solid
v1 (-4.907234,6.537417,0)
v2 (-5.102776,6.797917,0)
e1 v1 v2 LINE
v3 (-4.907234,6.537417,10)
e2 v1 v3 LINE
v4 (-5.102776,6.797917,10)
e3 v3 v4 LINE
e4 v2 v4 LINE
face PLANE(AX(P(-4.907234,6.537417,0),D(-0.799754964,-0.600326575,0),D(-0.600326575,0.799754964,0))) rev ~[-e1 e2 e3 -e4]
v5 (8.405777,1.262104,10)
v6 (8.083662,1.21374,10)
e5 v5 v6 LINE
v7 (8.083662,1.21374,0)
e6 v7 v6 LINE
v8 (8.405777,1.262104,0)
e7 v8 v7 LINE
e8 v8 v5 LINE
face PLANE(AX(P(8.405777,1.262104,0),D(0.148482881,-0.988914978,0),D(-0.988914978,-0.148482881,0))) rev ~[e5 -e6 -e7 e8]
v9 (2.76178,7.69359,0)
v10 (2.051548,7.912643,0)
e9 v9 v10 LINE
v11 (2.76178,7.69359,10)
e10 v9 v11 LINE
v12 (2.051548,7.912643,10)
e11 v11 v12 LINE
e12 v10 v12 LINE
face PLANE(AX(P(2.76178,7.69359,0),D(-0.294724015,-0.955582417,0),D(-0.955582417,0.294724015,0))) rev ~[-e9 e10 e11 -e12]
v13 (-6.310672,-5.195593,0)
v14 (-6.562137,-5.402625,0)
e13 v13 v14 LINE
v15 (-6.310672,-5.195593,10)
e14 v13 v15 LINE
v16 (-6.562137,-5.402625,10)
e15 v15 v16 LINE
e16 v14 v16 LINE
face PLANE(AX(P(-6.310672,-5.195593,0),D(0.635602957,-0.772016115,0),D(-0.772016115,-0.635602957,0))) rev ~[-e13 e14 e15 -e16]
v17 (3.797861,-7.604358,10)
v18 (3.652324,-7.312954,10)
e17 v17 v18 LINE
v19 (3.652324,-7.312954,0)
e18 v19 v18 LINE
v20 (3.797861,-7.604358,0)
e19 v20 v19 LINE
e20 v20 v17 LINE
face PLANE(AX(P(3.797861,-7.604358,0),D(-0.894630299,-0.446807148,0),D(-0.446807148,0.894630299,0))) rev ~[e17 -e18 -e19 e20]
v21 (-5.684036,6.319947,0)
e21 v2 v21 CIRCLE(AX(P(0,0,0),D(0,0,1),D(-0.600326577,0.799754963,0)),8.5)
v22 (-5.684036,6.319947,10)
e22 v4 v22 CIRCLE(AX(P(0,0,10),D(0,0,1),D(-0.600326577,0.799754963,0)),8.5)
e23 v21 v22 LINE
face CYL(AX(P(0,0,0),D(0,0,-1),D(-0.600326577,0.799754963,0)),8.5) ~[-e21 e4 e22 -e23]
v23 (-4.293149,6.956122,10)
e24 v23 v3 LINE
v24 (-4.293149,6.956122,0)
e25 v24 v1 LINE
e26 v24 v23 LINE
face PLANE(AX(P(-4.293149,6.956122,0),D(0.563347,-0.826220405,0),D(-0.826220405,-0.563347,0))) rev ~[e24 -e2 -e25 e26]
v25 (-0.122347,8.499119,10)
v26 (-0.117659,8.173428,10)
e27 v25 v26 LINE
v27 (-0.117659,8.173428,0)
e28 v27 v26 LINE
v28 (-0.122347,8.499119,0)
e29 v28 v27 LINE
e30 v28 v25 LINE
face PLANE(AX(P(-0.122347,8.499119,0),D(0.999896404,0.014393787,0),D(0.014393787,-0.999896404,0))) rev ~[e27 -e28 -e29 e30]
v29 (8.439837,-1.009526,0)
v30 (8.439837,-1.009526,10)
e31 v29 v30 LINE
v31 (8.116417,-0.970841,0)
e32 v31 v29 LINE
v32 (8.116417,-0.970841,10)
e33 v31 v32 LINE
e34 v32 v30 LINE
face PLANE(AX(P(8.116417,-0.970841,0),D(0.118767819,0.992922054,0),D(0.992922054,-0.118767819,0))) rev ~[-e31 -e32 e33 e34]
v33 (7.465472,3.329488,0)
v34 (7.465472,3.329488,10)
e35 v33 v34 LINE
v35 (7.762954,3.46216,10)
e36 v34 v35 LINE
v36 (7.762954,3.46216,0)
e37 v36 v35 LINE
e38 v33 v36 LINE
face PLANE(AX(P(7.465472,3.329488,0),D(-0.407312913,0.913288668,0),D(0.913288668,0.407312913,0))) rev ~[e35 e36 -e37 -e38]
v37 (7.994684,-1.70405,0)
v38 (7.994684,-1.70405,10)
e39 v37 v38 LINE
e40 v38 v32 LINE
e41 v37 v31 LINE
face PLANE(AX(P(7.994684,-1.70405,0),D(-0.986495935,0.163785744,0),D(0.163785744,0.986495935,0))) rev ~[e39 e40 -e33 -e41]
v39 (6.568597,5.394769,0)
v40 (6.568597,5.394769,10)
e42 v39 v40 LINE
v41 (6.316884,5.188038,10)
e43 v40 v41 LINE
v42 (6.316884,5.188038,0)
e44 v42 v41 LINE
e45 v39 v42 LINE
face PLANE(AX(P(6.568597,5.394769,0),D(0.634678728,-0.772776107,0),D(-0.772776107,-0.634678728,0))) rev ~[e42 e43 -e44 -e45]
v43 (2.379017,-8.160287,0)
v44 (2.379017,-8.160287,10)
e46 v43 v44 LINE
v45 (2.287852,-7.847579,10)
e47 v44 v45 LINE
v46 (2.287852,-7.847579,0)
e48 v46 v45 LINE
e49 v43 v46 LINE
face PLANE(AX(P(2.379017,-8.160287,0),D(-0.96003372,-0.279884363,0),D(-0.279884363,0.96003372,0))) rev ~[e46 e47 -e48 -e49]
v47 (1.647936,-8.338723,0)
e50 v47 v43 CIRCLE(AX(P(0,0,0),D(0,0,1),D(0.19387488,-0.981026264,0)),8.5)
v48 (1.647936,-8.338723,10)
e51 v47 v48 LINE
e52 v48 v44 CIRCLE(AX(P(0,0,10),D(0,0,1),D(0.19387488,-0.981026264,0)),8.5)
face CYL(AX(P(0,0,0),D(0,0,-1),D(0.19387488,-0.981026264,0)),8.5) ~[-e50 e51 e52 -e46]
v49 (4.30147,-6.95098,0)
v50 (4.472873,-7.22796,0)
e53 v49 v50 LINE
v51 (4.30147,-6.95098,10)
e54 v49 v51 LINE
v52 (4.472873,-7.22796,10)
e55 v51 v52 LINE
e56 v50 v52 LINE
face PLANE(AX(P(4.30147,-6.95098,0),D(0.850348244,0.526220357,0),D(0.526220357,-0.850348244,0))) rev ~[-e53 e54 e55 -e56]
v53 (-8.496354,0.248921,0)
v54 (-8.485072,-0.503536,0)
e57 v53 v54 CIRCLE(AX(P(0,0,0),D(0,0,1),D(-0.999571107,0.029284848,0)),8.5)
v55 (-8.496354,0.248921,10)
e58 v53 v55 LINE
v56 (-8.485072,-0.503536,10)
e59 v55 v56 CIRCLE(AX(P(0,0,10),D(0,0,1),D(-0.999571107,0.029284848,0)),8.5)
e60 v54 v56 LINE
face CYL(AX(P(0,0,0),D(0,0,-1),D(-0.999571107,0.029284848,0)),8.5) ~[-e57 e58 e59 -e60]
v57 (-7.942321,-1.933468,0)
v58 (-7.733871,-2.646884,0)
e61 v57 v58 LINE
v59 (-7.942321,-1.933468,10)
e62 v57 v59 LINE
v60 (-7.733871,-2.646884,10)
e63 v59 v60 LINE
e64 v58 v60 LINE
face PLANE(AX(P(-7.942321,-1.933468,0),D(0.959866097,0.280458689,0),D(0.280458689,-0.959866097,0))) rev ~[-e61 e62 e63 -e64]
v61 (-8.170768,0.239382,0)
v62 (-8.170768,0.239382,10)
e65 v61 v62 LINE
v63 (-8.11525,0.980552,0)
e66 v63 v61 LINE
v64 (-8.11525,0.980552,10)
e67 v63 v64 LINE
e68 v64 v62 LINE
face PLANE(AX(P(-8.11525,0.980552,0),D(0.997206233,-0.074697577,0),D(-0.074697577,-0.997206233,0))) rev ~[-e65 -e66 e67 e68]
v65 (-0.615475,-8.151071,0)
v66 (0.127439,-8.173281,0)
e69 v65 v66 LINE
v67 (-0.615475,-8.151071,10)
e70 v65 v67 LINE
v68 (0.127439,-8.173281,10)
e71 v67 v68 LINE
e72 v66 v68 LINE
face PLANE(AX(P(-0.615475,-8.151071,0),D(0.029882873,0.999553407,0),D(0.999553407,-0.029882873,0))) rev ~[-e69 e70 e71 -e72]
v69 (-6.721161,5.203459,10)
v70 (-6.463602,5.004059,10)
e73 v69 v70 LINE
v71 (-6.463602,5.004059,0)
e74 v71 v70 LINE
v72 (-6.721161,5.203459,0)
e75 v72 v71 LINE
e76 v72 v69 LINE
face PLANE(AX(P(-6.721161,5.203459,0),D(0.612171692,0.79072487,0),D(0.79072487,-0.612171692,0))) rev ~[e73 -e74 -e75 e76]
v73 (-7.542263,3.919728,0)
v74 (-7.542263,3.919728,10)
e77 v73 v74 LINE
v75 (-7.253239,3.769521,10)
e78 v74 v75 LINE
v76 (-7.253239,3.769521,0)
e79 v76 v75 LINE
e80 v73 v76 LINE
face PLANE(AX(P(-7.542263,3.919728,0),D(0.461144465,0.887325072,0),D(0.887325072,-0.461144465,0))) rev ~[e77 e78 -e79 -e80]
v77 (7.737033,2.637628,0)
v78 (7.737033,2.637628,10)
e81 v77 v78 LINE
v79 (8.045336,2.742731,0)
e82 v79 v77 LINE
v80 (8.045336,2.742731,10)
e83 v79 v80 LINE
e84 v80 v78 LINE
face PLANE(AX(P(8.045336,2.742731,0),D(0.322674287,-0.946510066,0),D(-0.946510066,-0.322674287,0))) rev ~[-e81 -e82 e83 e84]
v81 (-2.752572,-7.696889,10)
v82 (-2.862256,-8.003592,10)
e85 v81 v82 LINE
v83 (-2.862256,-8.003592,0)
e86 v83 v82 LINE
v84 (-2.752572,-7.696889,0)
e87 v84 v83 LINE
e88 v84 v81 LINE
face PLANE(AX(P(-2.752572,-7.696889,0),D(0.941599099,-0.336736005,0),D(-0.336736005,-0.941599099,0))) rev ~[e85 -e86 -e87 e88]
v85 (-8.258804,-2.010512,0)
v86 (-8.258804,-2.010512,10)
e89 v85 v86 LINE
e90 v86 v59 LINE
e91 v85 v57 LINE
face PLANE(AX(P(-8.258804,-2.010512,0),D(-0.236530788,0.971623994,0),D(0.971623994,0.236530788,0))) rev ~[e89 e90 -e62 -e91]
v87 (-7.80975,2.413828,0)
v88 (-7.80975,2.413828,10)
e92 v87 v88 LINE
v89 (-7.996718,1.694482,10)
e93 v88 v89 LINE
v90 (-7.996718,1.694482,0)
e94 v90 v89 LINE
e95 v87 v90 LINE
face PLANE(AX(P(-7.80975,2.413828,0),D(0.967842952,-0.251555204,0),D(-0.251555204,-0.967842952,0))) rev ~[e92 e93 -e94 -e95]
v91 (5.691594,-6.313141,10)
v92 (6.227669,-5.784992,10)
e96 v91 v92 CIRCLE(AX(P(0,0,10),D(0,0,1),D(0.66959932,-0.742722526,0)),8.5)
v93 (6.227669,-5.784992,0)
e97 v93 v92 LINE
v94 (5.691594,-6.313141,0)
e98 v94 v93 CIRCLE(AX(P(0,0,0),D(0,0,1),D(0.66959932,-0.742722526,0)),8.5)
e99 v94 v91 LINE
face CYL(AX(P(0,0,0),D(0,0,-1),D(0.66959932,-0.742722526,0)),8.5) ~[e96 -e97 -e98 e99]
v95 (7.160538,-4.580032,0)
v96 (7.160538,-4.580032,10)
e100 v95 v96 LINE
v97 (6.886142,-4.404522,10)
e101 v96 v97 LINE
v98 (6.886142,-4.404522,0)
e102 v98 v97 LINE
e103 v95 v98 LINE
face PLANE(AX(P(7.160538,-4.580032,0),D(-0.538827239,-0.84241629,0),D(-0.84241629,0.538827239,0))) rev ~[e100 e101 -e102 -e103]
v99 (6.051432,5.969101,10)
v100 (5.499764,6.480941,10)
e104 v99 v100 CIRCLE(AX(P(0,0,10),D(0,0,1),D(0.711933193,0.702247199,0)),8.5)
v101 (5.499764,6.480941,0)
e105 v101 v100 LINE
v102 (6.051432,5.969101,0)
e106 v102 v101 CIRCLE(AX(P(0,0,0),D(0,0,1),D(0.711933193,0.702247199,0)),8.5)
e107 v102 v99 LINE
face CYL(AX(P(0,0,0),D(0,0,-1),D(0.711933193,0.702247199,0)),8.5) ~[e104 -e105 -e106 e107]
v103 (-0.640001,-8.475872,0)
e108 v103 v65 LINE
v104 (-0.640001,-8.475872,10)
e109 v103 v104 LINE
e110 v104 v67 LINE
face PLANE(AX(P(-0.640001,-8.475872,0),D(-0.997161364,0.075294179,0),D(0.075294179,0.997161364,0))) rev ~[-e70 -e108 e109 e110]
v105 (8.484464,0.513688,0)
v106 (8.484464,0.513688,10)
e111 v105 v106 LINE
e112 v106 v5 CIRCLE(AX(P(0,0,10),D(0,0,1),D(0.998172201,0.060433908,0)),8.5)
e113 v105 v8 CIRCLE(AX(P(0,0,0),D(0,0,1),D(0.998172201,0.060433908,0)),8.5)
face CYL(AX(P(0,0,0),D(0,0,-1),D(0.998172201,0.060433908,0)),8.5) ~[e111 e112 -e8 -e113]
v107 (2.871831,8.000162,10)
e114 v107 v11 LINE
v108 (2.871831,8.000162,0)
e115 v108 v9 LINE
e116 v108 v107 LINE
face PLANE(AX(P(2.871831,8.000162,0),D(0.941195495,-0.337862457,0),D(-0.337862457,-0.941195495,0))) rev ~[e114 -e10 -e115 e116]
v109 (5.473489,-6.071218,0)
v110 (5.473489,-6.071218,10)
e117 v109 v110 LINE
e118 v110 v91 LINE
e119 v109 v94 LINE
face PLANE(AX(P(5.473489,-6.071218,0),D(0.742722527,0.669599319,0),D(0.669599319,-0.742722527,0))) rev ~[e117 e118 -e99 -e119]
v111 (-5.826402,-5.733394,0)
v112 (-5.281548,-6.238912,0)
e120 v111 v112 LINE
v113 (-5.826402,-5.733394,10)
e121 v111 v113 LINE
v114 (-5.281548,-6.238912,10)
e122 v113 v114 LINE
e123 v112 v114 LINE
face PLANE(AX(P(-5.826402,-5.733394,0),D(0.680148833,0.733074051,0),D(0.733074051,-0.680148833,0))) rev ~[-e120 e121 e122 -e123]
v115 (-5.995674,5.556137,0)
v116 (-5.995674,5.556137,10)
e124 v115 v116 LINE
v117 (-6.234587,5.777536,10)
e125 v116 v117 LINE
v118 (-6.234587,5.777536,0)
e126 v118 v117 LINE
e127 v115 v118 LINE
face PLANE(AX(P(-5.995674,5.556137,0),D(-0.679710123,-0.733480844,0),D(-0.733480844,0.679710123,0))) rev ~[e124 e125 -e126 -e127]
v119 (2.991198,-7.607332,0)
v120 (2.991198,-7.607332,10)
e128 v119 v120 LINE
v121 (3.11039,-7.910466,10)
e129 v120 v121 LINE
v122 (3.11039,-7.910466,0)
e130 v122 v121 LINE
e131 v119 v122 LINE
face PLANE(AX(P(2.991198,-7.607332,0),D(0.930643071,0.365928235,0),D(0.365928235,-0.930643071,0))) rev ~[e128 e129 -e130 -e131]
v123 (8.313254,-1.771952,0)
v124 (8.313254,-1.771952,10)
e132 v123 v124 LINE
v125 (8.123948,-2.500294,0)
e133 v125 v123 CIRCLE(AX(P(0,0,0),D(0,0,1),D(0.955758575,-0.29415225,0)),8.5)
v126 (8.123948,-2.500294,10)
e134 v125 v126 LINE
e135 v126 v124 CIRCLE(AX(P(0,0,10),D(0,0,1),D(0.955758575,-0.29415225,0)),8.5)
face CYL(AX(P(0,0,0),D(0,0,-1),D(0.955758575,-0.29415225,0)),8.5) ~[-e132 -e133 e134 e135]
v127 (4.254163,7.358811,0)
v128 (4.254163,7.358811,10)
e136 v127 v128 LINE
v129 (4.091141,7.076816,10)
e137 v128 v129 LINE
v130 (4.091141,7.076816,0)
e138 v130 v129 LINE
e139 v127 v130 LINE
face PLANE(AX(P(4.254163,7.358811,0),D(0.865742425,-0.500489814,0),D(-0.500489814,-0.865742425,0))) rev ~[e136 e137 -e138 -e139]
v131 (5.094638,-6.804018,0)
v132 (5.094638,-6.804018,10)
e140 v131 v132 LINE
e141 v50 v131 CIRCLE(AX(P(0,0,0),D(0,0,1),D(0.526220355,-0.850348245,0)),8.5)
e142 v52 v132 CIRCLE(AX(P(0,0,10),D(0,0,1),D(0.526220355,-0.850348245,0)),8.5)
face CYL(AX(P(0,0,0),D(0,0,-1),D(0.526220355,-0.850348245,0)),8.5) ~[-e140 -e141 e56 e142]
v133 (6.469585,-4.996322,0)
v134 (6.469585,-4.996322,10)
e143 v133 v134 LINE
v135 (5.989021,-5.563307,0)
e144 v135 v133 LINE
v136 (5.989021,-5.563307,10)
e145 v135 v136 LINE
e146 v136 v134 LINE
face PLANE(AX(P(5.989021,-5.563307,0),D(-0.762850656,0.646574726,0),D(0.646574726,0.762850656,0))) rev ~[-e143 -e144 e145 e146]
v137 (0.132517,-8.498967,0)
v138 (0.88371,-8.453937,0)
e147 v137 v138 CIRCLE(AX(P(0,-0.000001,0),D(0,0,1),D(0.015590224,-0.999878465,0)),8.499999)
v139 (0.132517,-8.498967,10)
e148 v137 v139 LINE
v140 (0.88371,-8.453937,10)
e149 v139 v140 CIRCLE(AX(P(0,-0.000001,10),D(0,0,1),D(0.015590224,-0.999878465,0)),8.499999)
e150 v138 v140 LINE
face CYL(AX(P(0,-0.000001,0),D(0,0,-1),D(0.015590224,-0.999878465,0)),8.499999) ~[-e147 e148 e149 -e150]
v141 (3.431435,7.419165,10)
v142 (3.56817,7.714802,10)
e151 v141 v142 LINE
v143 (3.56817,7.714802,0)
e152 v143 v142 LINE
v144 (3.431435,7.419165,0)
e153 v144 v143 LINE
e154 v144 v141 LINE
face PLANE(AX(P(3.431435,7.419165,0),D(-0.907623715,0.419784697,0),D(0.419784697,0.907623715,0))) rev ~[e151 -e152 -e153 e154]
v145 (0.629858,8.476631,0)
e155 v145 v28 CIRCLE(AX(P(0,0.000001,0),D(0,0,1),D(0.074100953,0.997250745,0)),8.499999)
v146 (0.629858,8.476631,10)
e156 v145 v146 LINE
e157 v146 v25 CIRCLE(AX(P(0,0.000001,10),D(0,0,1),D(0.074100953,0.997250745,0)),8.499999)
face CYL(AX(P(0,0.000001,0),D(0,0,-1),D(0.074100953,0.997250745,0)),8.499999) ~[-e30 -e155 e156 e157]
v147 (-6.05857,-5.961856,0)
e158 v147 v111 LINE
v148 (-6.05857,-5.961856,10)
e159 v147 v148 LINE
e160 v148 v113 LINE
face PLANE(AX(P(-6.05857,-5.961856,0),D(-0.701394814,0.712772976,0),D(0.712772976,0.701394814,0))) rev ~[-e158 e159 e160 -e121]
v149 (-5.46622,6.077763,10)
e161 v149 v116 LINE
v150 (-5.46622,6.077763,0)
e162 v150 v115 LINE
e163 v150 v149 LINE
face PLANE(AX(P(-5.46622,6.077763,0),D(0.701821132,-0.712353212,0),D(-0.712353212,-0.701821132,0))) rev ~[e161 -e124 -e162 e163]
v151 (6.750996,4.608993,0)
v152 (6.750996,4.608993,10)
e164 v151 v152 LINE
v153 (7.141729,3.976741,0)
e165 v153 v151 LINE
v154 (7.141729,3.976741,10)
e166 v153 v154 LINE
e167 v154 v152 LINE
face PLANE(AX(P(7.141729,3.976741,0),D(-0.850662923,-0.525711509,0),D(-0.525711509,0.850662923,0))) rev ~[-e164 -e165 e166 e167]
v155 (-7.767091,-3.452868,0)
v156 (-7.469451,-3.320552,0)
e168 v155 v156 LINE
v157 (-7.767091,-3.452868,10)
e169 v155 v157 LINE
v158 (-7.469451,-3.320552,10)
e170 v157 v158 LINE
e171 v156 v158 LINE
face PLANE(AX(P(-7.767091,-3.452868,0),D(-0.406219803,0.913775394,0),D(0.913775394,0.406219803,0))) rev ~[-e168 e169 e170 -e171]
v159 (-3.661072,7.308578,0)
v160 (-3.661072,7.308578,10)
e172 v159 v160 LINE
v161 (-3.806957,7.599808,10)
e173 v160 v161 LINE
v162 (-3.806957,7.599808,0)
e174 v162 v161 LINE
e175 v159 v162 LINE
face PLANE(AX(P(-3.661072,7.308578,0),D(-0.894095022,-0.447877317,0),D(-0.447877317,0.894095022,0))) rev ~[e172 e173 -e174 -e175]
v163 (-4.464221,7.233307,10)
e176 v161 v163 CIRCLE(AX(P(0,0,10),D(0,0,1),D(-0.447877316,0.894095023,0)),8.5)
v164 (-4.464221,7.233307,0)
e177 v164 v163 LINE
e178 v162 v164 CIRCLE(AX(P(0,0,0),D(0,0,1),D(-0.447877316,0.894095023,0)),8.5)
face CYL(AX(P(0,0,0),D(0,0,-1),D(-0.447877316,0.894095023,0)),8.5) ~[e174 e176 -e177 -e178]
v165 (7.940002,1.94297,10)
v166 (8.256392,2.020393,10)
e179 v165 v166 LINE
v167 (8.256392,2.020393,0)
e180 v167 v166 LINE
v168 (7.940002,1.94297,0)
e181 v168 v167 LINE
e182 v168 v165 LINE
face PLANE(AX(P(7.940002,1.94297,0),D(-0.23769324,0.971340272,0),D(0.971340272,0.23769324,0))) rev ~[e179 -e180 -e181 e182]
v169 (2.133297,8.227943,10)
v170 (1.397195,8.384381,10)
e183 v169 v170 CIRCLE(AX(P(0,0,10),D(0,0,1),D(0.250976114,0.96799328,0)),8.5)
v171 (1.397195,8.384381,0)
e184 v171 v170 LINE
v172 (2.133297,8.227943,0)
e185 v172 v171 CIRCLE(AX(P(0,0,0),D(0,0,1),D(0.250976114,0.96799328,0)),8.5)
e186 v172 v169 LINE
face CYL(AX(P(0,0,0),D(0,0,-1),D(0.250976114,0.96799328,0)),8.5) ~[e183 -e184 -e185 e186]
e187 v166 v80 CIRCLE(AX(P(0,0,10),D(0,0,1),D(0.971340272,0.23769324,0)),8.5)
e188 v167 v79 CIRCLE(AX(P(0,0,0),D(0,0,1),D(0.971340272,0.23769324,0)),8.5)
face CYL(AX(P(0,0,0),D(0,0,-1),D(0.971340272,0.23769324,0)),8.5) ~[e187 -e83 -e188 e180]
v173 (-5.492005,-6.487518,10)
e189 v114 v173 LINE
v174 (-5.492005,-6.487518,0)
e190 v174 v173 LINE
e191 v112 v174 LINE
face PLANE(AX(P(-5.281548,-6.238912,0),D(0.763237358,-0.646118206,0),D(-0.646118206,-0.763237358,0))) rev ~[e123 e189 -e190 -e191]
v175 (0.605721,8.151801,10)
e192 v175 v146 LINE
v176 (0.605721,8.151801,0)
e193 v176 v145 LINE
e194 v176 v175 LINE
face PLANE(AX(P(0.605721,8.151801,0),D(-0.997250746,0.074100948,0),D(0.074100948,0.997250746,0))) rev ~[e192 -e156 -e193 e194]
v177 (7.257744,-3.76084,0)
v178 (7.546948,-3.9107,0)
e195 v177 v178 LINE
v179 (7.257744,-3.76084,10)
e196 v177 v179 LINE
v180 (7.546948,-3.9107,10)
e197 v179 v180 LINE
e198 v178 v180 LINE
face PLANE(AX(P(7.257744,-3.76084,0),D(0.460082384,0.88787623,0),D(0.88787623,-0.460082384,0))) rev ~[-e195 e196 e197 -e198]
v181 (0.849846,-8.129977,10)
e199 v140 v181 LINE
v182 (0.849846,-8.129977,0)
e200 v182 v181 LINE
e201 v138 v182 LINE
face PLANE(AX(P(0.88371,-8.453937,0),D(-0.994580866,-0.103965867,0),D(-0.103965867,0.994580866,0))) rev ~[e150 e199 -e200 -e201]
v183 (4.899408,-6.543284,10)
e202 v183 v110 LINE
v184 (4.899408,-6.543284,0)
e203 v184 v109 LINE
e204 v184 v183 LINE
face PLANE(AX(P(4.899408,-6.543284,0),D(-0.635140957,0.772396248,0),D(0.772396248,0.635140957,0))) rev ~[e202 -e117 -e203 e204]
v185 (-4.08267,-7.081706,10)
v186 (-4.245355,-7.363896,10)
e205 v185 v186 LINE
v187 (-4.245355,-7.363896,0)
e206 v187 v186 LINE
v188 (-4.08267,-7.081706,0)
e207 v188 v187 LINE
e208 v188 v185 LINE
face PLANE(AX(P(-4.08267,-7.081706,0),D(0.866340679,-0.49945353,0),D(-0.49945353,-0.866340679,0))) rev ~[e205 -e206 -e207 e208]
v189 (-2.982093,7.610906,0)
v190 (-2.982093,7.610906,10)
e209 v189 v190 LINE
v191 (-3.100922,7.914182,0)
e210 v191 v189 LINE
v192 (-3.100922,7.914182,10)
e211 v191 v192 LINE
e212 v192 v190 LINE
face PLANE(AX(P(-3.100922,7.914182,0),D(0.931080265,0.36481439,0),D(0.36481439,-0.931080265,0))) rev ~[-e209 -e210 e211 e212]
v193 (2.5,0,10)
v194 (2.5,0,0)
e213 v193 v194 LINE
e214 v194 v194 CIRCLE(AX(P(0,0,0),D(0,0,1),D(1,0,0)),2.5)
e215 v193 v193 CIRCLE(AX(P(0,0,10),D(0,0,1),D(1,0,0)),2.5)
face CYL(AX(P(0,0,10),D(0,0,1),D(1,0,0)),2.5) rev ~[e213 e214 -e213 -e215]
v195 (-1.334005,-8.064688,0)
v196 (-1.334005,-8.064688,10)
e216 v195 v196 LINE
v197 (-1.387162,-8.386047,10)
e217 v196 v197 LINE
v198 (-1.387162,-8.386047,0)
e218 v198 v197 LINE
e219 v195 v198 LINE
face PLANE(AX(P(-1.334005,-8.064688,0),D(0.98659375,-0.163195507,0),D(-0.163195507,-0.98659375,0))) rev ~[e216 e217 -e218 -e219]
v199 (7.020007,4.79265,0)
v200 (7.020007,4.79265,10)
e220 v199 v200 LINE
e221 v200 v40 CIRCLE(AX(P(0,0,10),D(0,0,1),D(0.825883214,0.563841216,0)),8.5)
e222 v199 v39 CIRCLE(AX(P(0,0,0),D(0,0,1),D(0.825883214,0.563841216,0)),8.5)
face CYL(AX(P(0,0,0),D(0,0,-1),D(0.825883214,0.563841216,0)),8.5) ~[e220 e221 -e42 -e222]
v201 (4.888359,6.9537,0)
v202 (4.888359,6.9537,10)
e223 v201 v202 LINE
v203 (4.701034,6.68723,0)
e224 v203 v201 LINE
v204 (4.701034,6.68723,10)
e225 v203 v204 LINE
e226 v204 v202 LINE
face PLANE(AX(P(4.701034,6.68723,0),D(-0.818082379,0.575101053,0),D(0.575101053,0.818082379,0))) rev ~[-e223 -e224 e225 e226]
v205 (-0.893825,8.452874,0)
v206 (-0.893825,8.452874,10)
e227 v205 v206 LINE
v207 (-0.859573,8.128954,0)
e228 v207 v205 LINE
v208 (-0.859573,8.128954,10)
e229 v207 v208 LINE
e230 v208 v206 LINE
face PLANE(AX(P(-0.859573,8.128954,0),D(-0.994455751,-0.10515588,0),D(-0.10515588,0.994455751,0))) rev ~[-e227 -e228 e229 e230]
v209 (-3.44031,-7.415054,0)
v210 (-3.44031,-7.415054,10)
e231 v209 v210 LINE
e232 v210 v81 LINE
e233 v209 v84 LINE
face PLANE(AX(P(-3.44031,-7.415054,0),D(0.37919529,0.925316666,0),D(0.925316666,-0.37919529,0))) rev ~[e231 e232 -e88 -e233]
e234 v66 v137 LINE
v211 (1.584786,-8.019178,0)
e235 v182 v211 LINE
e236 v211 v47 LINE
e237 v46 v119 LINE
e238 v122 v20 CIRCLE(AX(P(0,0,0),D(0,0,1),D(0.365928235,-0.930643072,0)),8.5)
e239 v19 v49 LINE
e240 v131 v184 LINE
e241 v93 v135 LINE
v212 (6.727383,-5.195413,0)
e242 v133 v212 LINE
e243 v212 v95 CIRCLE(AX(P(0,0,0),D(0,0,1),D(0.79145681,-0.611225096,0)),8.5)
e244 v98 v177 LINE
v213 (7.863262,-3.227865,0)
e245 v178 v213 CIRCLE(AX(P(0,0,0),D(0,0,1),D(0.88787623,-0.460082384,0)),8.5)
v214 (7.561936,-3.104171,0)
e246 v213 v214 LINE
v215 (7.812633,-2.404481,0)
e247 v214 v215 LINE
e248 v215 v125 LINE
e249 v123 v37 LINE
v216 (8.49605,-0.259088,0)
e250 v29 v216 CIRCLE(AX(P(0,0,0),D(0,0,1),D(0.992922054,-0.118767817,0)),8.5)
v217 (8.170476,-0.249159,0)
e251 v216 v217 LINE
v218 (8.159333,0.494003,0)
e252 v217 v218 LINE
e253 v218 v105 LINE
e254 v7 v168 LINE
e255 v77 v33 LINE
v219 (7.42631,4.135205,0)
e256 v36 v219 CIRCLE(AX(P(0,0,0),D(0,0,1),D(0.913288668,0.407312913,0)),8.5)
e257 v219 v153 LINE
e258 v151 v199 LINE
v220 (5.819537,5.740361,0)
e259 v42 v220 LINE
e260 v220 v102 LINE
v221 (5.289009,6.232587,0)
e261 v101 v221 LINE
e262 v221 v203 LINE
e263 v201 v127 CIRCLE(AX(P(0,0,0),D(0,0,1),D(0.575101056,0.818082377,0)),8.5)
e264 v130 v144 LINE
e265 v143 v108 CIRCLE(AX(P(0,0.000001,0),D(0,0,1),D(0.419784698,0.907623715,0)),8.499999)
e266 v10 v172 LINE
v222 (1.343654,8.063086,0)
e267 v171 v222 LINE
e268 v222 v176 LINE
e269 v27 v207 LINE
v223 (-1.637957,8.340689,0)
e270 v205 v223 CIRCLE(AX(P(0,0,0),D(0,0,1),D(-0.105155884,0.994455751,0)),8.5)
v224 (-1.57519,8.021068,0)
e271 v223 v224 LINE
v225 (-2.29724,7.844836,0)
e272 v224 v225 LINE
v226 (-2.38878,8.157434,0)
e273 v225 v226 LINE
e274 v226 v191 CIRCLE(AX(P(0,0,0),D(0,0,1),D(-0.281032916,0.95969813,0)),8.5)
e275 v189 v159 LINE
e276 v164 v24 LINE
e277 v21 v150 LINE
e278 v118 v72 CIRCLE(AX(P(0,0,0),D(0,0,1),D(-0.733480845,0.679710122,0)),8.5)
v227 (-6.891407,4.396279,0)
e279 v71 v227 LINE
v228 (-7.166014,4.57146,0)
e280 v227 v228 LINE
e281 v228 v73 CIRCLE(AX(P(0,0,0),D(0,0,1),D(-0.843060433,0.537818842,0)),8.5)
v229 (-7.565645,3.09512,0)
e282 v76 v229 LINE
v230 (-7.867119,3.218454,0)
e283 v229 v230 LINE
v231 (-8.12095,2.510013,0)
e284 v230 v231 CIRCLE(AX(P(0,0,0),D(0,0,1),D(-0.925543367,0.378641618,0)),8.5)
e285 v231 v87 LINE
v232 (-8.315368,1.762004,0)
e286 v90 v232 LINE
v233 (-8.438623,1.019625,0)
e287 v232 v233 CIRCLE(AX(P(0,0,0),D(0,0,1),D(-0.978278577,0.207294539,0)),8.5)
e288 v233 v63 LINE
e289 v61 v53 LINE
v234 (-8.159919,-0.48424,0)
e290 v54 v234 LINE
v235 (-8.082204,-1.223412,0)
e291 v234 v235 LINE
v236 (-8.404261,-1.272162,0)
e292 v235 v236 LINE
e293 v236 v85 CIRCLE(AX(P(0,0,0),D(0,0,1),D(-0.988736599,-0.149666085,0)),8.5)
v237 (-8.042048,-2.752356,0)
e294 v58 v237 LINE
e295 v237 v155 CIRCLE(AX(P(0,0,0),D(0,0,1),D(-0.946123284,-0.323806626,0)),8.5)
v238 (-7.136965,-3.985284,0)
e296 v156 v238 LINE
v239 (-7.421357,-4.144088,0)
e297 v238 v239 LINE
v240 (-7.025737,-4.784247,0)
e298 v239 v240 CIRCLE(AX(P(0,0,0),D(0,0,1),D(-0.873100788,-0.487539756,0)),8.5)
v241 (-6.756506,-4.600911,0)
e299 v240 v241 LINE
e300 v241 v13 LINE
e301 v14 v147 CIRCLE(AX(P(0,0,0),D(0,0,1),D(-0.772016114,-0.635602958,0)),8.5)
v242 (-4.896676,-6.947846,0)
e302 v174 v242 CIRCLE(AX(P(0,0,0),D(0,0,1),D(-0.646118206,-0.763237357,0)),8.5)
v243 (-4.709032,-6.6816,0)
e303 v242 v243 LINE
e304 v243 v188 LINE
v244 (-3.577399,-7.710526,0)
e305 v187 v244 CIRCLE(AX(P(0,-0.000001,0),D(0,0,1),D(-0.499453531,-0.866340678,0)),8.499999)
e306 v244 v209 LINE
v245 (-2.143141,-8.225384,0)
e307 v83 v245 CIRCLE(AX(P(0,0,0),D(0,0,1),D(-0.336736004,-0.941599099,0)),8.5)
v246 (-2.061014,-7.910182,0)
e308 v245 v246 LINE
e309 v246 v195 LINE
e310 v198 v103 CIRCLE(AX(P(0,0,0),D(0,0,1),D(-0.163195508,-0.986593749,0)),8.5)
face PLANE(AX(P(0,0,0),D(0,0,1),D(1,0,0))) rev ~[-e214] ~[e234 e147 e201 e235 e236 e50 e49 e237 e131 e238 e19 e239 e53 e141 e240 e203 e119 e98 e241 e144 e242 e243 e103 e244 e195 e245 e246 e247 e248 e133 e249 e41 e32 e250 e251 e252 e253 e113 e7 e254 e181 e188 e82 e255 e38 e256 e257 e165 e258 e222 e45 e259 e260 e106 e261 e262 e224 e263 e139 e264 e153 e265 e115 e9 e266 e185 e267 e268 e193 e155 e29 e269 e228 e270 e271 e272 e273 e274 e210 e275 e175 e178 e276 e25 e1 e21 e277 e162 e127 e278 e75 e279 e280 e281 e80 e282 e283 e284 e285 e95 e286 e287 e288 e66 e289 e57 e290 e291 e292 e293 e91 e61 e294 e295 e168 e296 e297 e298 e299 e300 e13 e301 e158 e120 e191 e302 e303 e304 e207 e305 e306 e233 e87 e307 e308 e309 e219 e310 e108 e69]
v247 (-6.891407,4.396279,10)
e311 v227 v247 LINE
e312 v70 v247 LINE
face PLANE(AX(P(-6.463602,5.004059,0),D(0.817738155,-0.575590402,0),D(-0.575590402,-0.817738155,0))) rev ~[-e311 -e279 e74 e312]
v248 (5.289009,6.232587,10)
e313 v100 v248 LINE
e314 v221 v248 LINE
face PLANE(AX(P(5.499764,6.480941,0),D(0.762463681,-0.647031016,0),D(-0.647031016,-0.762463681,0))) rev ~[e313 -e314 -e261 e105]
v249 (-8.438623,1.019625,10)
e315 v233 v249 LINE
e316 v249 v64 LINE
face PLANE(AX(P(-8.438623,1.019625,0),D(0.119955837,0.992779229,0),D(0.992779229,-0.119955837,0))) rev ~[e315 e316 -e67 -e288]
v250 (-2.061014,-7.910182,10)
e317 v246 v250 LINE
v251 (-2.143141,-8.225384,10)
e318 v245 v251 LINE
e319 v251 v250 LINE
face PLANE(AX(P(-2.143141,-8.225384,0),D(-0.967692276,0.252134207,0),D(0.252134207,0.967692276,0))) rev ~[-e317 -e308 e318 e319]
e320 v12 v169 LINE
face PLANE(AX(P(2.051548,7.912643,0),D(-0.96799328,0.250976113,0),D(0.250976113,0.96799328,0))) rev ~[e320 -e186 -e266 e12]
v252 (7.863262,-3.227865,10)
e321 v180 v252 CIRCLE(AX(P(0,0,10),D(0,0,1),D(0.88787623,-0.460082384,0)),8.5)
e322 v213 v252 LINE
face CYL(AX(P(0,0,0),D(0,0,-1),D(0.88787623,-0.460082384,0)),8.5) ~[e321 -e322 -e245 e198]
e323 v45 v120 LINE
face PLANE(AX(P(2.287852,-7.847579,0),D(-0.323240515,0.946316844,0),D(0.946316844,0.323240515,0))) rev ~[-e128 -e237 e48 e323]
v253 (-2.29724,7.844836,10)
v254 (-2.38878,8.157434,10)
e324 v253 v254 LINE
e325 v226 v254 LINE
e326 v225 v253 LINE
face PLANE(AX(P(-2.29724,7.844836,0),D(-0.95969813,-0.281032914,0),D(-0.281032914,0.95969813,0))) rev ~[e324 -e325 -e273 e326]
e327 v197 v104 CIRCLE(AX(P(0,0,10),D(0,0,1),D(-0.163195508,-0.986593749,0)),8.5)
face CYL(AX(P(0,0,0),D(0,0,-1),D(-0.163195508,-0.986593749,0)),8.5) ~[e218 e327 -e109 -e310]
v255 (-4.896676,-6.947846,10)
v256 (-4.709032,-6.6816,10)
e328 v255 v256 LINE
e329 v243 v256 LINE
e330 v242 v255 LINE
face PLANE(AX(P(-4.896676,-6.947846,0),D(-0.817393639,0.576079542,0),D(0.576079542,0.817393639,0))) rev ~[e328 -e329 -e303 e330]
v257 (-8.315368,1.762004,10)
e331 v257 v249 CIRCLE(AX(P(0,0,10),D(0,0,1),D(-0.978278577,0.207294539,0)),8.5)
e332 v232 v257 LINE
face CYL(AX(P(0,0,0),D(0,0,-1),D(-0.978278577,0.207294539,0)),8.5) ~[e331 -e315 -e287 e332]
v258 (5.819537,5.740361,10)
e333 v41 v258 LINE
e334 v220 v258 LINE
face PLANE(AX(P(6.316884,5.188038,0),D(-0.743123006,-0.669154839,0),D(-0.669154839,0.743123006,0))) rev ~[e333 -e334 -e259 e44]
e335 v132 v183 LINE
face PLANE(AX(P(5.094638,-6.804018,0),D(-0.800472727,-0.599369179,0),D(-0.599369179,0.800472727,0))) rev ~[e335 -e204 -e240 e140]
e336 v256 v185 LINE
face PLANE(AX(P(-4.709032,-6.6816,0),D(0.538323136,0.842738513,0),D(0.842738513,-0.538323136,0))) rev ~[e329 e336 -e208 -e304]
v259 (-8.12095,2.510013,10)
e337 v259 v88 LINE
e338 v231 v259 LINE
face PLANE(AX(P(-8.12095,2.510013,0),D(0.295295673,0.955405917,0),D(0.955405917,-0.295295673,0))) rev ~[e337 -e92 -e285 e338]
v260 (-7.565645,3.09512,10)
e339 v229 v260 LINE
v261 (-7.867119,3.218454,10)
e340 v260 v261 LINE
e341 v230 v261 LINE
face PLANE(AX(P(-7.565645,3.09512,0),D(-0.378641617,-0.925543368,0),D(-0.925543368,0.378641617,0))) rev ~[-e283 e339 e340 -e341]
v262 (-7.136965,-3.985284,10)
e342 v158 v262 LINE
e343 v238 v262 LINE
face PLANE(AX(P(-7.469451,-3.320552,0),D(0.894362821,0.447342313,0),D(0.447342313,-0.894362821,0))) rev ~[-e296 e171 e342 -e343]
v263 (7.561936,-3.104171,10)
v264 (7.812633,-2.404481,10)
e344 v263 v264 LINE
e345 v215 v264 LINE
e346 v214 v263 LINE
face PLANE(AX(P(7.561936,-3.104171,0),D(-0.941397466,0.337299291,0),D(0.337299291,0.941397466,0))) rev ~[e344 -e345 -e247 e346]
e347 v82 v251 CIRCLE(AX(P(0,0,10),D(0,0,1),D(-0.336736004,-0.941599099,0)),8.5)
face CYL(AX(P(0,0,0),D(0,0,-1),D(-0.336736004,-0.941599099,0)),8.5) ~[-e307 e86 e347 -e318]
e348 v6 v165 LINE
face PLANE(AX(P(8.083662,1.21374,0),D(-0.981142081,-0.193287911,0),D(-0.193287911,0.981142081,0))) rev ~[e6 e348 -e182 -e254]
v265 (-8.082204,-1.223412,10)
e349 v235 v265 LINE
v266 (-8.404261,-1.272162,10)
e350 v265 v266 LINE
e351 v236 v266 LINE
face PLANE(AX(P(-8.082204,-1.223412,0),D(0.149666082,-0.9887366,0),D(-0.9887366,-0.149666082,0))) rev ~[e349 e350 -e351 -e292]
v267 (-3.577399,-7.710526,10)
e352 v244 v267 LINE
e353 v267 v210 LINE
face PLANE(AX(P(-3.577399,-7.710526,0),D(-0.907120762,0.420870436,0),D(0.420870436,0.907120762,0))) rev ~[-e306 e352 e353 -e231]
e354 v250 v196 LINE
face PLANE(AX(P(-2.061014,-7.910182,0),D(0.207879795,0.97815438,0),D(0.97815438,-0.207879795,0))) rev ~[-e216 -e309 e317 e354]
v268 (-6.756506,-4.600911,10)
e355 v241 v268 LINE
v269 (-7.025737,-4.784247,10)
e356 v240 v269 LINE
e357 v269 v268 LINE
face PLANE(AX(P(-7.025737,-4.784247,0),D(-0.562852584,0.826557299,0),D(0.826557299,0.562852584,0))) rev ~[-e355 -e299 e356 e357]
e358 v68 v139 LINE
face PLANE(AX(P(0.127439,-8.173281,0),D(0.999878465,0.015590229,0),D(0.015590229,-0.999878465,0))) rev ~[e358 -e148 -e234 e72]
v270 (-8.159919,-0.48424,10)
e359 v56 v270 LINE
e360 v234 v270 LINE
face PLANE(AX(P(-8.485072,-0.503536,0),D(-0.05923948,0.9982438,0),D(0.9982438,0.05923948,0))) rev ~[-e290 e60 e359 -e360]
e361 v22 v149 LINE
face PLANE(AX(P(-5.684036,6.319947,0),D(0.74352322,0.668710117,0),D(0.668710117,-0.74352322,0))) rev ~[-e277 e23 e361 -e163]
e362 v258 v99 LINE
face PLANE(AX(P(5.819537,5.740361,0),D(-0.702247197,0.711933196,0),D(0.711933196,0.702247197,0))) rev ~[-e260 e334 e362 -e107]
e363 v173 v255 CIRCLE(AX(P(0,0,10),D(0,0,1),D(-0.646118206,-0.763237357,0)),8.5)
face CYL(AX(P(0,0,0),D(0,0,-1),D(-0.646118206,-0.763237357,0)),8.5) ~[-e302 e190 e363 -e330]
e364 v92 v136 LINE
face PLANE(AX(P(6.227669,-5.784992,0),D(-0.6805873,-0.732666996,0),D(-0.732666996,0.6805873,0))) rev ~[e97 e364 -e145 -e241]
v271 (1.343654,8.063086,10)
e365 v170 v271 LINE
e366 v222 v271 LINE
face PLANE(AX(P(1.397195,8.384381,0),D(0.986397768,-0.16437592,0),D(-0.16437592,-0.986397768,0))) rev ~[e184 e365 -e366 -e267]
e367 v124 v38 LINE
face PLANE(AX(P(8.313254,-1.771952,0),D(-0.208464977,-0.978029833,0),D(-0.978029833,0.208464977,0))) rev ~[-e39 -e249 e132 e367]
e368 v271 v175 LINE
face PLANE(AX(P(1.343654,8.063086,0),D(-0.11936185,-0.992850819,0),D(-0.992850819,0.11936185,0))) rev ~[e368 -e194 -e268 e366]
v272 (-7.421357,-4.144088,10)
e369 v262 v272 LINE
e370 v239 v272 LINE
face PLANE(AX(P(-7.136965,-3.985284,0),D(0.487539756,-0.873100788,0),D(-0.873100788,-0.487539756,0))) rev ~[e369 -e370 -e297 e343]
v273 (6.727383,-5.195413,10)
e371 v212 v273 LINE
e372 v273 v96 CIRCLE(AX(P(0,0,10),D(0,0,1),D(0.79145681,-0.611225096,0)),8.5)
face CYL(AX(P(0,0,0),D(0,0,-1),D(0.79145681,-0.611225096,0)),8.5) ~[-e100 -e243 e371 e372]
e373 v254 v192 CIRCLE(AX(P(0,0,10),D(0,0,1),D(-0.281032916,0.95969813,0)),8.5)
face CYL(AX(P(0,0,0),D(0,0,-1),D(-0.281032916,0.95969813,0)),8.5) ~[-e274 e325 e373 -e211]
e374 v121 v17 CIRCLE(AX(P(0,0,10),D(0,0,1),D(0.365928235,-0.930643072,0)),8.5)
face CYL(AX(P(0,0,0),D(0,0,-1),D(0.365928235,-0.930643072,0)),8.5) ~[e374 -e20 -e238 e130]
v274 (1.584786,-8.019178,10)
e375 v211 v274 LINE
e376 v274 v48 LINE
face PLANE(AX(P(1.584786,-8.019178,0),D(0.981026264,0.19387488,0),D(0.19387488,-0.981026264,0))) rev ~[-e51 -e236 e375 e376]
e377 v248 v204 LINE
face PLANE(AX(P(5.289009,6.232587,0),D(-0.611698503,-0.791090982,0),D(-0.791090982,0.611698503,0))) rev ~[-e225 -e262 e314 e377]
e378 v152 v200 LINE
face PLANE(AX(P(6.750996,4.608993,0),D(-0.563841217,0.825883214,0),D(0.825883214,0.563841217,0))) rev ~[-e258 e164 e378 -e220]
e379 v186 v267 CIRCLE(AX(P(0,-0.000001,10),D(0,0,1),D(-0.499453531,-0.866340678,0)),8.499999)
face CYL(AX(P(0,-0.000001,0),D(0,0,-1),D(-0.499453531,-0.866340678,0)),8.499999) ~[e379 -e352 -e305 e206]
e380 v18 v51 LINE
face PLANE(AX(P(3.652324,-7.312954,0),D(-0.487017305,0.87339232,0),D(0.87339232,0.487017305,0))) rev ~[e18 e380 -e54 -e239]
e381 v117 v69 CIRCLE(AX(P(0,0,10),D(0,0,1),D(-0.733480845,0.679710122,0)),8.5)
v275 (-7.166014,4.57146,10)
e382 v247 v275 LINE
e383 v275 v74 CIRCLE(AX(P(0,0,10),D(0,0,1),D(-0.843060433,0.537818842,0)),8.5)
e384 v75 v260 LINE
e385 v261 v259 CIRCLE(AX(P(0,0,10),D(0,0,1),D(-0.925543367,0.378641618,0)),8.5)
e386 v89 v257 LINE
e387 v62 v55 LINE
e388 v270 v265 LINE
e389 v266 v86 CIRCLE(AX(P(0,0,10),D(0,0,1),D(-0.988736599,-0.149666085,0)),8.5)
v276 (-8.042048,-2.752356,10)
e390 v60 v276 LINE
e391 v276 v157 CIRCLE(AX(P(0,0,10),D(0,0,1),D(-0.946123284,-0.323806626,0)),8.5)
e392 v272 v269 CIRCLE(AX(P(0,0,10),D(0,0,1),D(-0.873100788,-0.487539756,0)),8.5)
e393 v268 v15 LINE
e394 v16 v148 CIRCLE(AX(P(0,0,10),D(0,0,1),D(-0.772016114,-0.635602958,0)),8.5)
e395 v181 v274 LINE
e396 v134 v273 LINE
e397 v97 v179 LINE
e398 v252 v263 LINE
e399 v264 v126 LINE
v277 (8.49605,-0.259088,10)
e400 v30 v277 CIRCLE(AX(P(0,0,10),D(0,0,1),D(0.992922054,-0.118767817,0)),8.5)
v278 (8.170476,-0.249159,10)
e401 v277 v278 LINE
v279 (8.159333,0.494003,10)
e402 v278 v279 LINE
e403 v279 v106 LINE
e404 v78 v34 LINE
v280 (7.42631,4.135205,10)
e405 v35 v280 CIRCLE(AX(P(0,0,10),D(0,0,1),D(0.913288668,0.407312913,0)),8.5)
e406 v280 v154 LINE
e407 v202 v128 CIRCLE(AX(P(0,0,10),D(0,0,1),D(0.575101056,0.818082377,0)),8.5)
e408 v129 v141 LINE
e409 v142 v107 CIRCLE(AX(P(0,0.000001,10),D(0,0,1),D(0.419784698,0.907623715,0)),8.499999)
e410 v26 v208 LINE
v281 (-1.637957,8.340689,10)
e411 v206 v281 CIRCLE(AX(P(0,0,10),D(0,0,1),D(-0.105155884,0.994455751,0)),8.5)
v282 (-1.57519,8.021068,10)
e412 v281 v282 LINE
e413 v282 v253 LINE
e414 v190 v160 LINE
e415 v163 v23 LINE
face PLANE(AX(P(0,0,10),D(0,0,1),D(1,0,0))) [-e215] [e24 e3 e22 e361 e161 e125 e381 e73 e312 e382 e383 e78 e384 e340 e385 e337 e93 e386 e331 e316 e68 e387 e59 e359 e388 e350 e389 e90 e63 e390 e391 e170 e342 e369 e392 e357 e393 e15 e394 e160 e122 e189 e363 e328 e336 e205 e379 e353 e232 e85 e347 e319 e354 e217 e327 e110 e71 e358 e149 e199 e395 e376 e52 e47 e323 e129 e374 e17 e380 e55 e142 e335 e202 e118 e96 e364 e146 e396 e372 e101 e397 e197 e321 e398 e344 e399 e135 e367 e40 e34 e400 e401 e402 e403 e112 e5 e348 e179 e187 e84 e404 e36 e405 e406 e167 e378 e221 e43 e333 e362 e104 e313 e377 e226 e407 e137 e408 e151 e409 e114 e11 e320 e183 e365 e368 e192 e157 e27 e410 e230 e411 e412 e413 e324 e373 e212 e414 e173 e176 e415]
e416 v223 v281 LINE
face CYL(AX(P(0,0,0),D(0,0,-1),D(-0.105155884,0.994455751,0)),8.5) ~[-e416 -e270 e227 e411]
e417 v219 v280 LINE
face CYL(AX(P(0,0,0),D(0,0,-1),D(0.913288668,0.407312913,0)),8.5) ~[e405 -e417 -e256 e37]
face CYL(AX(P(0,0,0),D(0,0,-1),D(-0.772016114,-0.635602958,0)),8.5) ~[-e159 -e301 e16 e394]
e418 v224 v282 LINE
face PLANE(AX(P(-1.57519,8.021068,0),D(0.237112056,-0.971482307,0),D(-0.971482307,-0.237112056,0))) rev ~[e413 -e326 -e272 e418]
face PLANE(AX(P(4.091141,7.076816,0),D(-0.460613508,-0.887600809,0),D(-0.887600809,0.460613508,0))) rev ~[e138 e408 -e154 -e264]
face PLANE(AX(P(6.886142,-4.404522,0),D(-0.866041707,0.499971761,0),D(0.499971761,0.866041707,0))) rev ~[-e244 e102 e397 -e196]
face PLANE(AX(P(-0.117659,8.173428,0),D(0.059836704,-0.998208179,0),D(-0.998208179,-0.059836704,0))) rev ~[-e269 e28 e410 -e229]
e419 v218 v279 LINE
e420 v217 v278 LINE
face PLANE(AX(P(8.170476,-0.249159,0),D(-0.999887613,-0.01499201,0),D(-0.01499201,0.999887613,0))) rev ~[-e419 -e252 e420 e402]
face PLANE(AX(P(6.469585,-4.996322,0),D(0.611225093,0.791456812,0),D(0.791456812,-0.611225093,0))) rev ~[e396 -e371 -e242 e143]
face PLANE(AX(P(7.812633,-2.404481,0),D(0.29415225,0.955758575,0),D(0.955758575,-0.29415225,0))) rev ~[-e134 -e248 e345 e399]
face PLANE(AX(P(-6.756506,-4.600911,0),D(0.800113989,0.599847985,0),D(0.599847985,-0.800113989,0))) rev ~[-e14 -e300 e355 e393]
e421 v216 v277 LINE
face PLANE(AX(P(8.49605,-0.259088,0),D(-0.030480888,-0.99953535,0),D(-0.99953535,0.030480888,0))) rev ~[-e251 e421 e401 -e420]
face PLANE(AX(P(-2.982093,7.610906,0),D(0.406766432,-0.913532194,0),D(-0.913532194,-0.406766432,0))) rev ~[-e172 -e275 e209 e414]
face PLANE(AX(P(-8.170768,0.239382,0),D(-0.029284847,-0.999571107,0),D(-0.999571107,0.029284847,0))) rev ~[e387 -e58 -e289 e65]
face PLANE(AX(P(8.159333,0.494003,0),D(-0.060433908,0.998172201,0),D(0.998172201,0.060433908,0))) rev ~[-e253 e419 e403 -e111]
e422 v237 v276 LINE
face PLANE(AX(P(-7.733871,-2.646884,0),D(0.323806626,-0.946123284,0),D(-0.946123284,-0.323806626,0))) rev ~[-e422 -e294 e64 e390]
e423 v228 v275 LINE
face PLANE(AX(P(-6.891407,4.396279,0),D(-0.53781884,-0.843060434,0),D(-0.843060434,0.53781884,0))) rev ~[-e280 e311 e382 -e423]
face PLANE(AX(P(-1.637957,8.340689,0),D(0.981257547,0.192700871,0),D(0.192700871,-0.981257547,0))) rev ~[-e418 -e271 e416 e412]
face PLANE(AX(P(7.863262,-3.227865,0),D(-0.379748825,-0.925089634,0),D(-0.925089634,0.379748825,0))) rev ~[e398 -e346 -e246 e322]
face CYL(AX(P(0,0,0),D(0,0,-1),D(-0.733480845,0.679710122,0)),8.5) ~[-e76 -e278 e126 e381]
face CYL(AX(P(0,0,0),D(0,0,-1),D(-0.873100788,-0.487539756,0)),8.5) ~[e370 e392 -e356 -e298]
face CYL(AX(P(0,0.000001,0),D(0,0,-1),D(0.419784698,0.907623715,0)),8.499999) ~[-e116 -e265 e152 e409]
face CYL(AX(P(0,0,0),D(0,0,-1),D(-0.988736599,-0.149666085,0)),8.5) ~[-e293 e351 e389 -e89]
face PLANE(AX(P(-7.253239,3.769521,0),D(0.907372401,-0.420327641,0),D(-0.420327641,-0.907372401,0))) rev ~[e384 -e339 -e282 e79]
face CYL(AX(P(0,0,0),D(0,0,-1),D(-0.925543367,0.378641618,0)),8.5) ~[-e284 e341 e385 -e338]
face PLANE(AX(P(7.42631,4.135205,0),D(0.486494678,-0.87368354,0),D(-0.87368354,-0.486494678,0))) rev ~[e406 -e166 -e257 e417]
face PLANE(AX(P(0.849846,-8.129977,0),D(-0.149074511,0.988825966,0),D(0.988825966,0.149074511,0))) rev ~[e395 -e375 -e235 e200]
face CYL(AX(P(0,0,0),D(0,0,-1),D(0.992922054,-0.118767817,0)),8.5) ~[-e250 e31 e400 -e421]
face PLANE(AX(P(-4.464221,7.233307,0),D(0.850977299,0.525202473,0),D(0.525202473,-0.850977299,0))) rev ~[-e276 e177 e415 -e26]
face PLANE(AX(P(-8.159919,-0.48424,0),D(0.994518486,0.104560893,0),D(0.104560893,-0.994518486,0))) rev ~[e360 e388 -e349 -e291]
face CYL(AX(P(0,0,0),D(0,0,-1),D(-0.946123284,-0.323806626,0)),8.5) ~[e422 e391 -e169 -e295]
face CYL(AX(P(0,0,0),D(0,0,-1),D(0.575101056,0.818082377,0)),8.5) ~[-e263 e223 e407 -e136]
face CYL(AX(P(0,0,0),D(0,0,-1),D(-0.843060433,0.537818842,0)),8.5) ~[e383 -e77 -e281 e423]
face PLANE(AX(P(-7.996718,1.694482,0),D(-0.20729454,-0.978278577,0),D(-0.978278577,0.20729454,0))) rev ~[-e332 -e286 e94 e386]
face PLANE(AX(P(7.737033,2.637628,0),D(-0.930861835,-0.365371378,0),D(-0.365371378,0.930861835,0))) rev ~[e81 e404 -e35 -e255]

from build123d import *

# Parameters (mm, degrees)
BOSS_EXTRUDE1_DEPTH = 10
SKETCH2_R           = 2.5
CUT_EXTRUDE1_DEPTH  = 11


with BuildPart() as part:
    # Sketch1 → Boss-Extrude1 (new body)
    with BuildSketch(Plane.XY):
        with BuildLine():
            Line((-2.297240152, 7.844835842), (-2.388779771, 8.157434107))
            ThreePointArc((-2.388779771, 8.157434107), (-2.74754438, 8.043693174), (-3.100922317, 7.914182256))
            Line((-3.100922317, 7.914182256), (-2.982092925, 7.610905563))
            Line((-2.982092925, 7.610905563), (-3.661072086, 7.308578034))
            Line((-3.661072086, 7.308578034), (-3.806957201, 7.599807686))
            ThreePointArc((-3.806957201, 7.599807686), (-4.139647087, 7.423834723), (-4.464221028, 7.233307031))
            Line((-4.464221028, 7.233307031), (-4.293149129, 6.956121926))
            Line((-4.293149129, 6.956121926), (-4.90723415, 6.537416515))
            Line((-4.90723415, 6.537416515), (-5.102775894, 6.797917194))
            ThreePointArc((-5.102775894, 6.797917194), (-5.398698131, 6.565368115), (-5.684036002, 6.319947367))
            Line((-5.684036002, 6.319947367), (-5.466219987, 6.077762808))
            Line((-5.466219987, 6.077762808), (-5.995673672, 5.55613705))
            Line((-5.995673672, 5.55613705), (-6.234587172, 5.777536049))
            ThreePointArc((-6.234587172, 5.777536049), (-6.484230575, 5.495885174), (-6.721161383, 5.203459394))
            Line((-6.721161383, 5.203459394), (-6.463602037, 5.004059392))
            Line((-6.463602037, 5.004059392), (-6.891407308, 4.396278769))
            Line((-6.891407308, 4.396278769), (-7.166013687, 4.571460142))
            ThreePointArc((-7.166013687, 4.571460142), (-7.361354513, 4.249759962), (-7.542263106, 3.919727955))
            Line((-7.542263106, 3.919727955), (-7.2532386, 3.76952139))
            Line((-7.2532386, 3.76952139), (-7.565645443, 3.095120471))
            Line((-7.565645443, 3.095120471), (-7.867118627, 3.218453745))
            ThreePointArc((-7.867118627, 3.218453745), (-8.00187846, 2.867043968), (-8.120950287, 2.510013234))
            Line((-8.120950287, 2.510013234), (-7.809750106, 2.413827869))
            Line((-7.809750106, 2.413827869), (-7.996717508, 1.694482454))
            Line((-7.996717508, 1.694482454), (-8.315367901, 1.762003596))
            ThreePointArc((-8.315367901, 1.762003596), (-8.385215449, 1.392178821), (-8.438623444, 1.019624623))
            Line((-8.438623444, 1.019624623), (-8.115249818, 0.980551934))
            Line((-8.115249818, 0.980551934), (-8.170768494, 0.239382377))
            Line((-8.170768494, 0.239382377), (-8.496354409, 0.248921202))
            ThreePointArc((-8.496354409, 0.248921202), (-8.499044715, -0.127432098), (-8.4850723, -0.503535563))
            Line((-8.4850723, -0.503535563), (-8.159918723, -0.484239747))
            Line((-8.159918723, -0.484239747), (-8.082204256, -1.223411647))
            Line((-8.082204256, -1.223411647), (-8.404261095, -1.272161724))
            ThreePointArc((-8.404261095, -1.272161724), (-8.33970769, -1.642947245), (-8.258803951, -2.010511701))
            Line((-8.258803951, -2.010511701), (-7.942321126, -1.933467564))
            Line((-7.942321126, -1.933467564), (-7.733871324, -2.646884213))
            Line((-7.733871324, -2.646884213), (-8.042047914, -2.752356326))
            ThreePointArc((-8.042047914, -2.752356326), (-7.912325598, -3.105656715), (-7.767090848, -3.452868339))
            Line((-7.767090848, -3.452868339), (-7.469450794, -3.320552143))
            Line((-7.469450794, -3.320552143), (-7.136965404, -3.985283743))
            Line((-7.136965404, -3.985283743), (-7.421356697, -4.144087931))
            ThreePointArc((-7.421356697, -4.144087931), (-7.230634851, -4.468547824), (-7.025737053, -4.784246948))
            Line((-7.025737053, -4.784246948), (-6.756506167, -4.600911443))
            Line((-6.756506167, -4.600911443), (-6.310671544, -5.195592975))
            Line((-6.310671544, -5.195592975), (-6.562136969, -5.40262514))
            ThreePointArc((-6.562136969, -5.40262514), (-6.316545551, -5.687816128), (-6.05857029, -5.961855923))
            Line((-6.05857029, -5.961855923), (-5.826401873, -5.733393665))
            Line((-5.826401873, -5.733393665), (-5.281547508, -6.238911573))
            Line((-5.281547508, -6.238911573), (-5.492004759, -6.487517532))
            ThreePointArc((-5.492004759, -6.487517532), (-5.199437279, -6.724273342), (-4.896676092, -6.947845943))
            Line((-4.896676092, -6.947845943), (-4.709032228, -6.681599896))
            Line((-4.709032228, -6.681599896), (-4.082670189, -7.08170642))
            Line((-4.082670189, -7.08170642), (-4.245354998, -7.363895772))
            ThreePointArc((-4.245354998, -7.363895772), (-3.915214815, -7.544606879), (-3.577398695, -7.710526478))
            Line((-3.577398695, -7.710526478), (-3.440310413, -7.415054009))
            Line((-3.440310413, -7.415054009), (-2.752572491, -7.696889396))
            Line((-2.752572491, -7.696889396), (-2.862256034, -8.003592343))
            ThreePointArc((-2.862256034, -8.003592343), (-2.505154125, -8.122450542), (-2.143140761, -8.225384348))
            Line((-2.143140761, -8.225384348), (-2.061014191, -7.910182185))
            Line((-2.061014191, -7.910182185), (-1.334004849, -8.064688014))
            Line((-1.334004849, -8.064688014), (-1.387161806, -8.386046871))
            ThreePointArc((-1.387161806, -8.386046871), (-1.014575721, -8.439231962), (-0.64000052, -8.475871597))
            Line((-0.64000052, -8.475871597), (-0.615475277, -8.151070597))
            Line((-0.615475277, -8.151070597), (0.127438807, -8.173280923))
            Line((0.127438807, -8.173280923), (0.132516944, -8.498966952))
            ThreePointArc((0.132516944, -8.498966952), (0.508611982, -8.484769523), (0.883709865, -8.453937359))
            Line((0.883709865, -8.453937359), (0.849845519, -8.129976894))
            Line((0.849845519, -8.129976894), (1.584786475, -8.019177858))
            Line((1.584786475, -8.019177858), (1.64793649, -8.338723243))
            ThreePointArc((1.64793649, -8.338723243), (2.015452477, -8.25759961), (2.379017088, -8.160286619))
            Line((2.379017088, -8.160286619), (2.287851581, -7.847579043))
            Line((2.287851581, -7.847579043), (2.991197802, -7.607331819))
            Line((2.991197802, -7.607331819), (3.110390002, -7.910466107))
            ThreePointArc((3.110390002, -7.910466107), (3.457514671, -7.765023651), (3.797860744, -7.604357552))
            Line((3.797860744, -7.604357552), (3.65232421, -7.312953546))
            Line((3.65232421, -7.312953546), (4.30146957, -6.950979876))
            Line((4.30146957, -6.950979876), (4.47287302, -7.227960082))
            ThreePointArc((4.47287302, -7.227960082), (4.788449499, -7.022873443), (5.09463803, -6.804018176))
            Line((5.09463803, -6.804018176), (4.899408135, -6.543283704))
            Line((4.899408135, -6.543283704), (5.473488567, -6.07121772))
            Line((5.473488567, -6.07121772), (5.691594218, -6.313141473))
            ThreePointArc((5.691594218, -6.313141473), (5.96547962, -6.055002304), (6.227669459, -5.784992058))
            Line((6.227669459, -5.784992058), (5.98902105, -5.56330734))
            Line((5.98902105, -5.56330734), (6.469585137, -4.996321632))
            Line((6.469585137, -4.996321632), (6.727382895, -5.195413302))
            ThreePointArc((6.727382895, -5.195413302), (6.950774318, -4.892518409), (7.160538467, -4.580031535))
            Line((7.160538467, -4.580031535), (6.886141901, -4.4045217))
            Line((6.886141901, -4.4045217), (7.257743919, -3.760839655))
            Line((7.257743919, -3.760839655), (7.546947951, -3.910700273))
            ThreePointArc((7.546947951, -3.910700273), (7.71266541, -3.572784946), (7.863261877, -3.22786503))
            Line((7.863261877, -3.22786503), (7.561936486, -3.10417111))
            Line((7.561936486, -3.10417111), (7.812632839, -2.404481197))
            Line((7.812632839, -2.404481197), (8.12394789, -2.50029412))
            ThreePointArc((8.12394789, -2.50029412), (8.22666509, -2.138219236), (8.31325358, -1.771952288))
            Line((8.31325358, -1.771952288), (7.99468421, -1.704049905))
            Line((7.99468421, -1.704049905), (8.116417311, -0.970840735))
            Line((8.116417311, -0.970840735), (8.439837459, -1.009526456))
            ThreePointArc((8.439837459, -1.009526456), (8.476252984, -0.634929401), (8.496050473, -0.259087541))
            Line((8.496050473, -0.259087541), (8.170476205, -0.249159135))
            Line((8.170476205, -0.249159135), (8.159333453, 0.494003347))
            Line((8.159333453, 0.494003347), (8.484463708, 0.513688219))
            ThreePointArc((8.484463708, 0.513688219), (8.453407134, 0.888767589), (8.405777314, 1.262104493))
            Line((8.405777314, 1.262104493), (8.083662373, 1.213739815))
            Line((8.083662373, 1.213739815), (7.940001904, 1.942969755))
            Line((7.940001904, 1.942969755), (8.256392313, 2.020392532))
            ThreePointArc((8.256392313, 2.020392532), (8.158861823, 2.383898856), (8.045335555, 2.74273145))
            Line((8.045335555, 2.74273145), (7.73703298, 2.637628169))
            Line((7.73703298, 2.637628169), (7.46547216, 3.329487516))
            Line((7.46547216, 3.329487516), (7.762953675, 3.462159766))
            ThreePointArc((7.762953675, 3.462159766), (7.60208398, 3.802409653), (7.426310092, 4.135204762))
            Line((7.426310092, 4.135204762), (7.141728982, 3.976740983))
            Line((7.141728982, 3.976740983), (6.750995999, 4.608992809))
            Line((6.750995999, 4.608992809), (7.020007318, 4.792650337))
            ThreePointArc((7.020007318, 4.792650337), (6.800968902, 5.098707875), (6.568596912, 5.39476919))
            Line((6.568596912, 5.39476919), (6.316883938, 5.18803807))
            Line((6.316883938, 5.18803807), (5.819537272, 5.740361281))
            Line((5.819537272, 5.740361281), (6.051432151, 5.969101182))
            ThreePointArc((6.051432151, 5.969101182), (5.781265088, 6.23112943), (5.499763622, 6.480941297))
            Line((5.499763622, 6.480941297), (5.289009046, 6.232587345))
            Line((5.289009046, 6.232587345), (4.701033829, 6.687229818))
            Line((4.701033829, 6.687229818), (4.888358974, 6.953700205))
            ThreePointArc((4.888358974, 6.953700205), (4.575746658, 7.163277359), (4.254163405, 7.358810619))
            Line((4.254163405, 7.358810619), (4.091141052, 7.076816134))
            Line((4.091141052, 7.076816134), (3.43143529, 7.419165287))
            Line((3.43143529, 7.419165287), (3.568169919, 7.714801581))
            ThreePointArc((3.568169919, 7.714801581), (3.223159965, 7.86519166), (2.871830875, 8.000161712))
            Line((2.871830875, 8.000161712), (2.761780418, 7.693590229))
            Line((2.761780418, 7.693590229), (2.051547597, 7.912642678))
            Line((2.051547597, 7.912642678), (2.133296946, 8.227942886))
            ThreePointArc((2.133296946, 8.227942886), (1.766978258, 8.314312229), (1.397195338, 8.384381026))
            Line((1.397195338, 8.384381026), (1.34365389, 8.063086005))
            Line((1.34365389, 8.063086005), (0.605721477, 8.151801224))
            Line((0.605721477, 8.151801224), (0.629858054, 8.476631337))
            ThreePointArc((0.629858054, 8.476631337), (0.254004417, 8.496203962), (-0.122347206, 8.499119434))
            Line((-0.122347206, 8.499119434), (-0.117658781, 8.173427562))
            Line((-0.117658781, 8.173427562), (-0.85957303, 8.12895417))
            Line((-0.85957303, 8.12895417), (-0.893824994, 8.452873883))
            ThreePointArc((-0.893824994, 8.452873883), (-1.267133336, 8.405020708), (-1.637957411, 8.340689151))
            Line((-1.637957411, 8.340689151), (-1.575189801, 8.021068432))
            Line((-1.575189801, 8.021068432), (-2.297240152, 7.844835842))
        make_face()
    extrude(amount=BOSS_EXTRUDE1_DEPTH)

    # Sketch2 → Cut-Extrude1 (cut, through all)
    with BuildSketch(Plane.XY.offset(10)):
        Circle(SKETCH2_R)
    extrude(amount=-CUT_EXTRUDE1_DEPTH, mode=Mode.SUBTRACT)


solid = part.part
